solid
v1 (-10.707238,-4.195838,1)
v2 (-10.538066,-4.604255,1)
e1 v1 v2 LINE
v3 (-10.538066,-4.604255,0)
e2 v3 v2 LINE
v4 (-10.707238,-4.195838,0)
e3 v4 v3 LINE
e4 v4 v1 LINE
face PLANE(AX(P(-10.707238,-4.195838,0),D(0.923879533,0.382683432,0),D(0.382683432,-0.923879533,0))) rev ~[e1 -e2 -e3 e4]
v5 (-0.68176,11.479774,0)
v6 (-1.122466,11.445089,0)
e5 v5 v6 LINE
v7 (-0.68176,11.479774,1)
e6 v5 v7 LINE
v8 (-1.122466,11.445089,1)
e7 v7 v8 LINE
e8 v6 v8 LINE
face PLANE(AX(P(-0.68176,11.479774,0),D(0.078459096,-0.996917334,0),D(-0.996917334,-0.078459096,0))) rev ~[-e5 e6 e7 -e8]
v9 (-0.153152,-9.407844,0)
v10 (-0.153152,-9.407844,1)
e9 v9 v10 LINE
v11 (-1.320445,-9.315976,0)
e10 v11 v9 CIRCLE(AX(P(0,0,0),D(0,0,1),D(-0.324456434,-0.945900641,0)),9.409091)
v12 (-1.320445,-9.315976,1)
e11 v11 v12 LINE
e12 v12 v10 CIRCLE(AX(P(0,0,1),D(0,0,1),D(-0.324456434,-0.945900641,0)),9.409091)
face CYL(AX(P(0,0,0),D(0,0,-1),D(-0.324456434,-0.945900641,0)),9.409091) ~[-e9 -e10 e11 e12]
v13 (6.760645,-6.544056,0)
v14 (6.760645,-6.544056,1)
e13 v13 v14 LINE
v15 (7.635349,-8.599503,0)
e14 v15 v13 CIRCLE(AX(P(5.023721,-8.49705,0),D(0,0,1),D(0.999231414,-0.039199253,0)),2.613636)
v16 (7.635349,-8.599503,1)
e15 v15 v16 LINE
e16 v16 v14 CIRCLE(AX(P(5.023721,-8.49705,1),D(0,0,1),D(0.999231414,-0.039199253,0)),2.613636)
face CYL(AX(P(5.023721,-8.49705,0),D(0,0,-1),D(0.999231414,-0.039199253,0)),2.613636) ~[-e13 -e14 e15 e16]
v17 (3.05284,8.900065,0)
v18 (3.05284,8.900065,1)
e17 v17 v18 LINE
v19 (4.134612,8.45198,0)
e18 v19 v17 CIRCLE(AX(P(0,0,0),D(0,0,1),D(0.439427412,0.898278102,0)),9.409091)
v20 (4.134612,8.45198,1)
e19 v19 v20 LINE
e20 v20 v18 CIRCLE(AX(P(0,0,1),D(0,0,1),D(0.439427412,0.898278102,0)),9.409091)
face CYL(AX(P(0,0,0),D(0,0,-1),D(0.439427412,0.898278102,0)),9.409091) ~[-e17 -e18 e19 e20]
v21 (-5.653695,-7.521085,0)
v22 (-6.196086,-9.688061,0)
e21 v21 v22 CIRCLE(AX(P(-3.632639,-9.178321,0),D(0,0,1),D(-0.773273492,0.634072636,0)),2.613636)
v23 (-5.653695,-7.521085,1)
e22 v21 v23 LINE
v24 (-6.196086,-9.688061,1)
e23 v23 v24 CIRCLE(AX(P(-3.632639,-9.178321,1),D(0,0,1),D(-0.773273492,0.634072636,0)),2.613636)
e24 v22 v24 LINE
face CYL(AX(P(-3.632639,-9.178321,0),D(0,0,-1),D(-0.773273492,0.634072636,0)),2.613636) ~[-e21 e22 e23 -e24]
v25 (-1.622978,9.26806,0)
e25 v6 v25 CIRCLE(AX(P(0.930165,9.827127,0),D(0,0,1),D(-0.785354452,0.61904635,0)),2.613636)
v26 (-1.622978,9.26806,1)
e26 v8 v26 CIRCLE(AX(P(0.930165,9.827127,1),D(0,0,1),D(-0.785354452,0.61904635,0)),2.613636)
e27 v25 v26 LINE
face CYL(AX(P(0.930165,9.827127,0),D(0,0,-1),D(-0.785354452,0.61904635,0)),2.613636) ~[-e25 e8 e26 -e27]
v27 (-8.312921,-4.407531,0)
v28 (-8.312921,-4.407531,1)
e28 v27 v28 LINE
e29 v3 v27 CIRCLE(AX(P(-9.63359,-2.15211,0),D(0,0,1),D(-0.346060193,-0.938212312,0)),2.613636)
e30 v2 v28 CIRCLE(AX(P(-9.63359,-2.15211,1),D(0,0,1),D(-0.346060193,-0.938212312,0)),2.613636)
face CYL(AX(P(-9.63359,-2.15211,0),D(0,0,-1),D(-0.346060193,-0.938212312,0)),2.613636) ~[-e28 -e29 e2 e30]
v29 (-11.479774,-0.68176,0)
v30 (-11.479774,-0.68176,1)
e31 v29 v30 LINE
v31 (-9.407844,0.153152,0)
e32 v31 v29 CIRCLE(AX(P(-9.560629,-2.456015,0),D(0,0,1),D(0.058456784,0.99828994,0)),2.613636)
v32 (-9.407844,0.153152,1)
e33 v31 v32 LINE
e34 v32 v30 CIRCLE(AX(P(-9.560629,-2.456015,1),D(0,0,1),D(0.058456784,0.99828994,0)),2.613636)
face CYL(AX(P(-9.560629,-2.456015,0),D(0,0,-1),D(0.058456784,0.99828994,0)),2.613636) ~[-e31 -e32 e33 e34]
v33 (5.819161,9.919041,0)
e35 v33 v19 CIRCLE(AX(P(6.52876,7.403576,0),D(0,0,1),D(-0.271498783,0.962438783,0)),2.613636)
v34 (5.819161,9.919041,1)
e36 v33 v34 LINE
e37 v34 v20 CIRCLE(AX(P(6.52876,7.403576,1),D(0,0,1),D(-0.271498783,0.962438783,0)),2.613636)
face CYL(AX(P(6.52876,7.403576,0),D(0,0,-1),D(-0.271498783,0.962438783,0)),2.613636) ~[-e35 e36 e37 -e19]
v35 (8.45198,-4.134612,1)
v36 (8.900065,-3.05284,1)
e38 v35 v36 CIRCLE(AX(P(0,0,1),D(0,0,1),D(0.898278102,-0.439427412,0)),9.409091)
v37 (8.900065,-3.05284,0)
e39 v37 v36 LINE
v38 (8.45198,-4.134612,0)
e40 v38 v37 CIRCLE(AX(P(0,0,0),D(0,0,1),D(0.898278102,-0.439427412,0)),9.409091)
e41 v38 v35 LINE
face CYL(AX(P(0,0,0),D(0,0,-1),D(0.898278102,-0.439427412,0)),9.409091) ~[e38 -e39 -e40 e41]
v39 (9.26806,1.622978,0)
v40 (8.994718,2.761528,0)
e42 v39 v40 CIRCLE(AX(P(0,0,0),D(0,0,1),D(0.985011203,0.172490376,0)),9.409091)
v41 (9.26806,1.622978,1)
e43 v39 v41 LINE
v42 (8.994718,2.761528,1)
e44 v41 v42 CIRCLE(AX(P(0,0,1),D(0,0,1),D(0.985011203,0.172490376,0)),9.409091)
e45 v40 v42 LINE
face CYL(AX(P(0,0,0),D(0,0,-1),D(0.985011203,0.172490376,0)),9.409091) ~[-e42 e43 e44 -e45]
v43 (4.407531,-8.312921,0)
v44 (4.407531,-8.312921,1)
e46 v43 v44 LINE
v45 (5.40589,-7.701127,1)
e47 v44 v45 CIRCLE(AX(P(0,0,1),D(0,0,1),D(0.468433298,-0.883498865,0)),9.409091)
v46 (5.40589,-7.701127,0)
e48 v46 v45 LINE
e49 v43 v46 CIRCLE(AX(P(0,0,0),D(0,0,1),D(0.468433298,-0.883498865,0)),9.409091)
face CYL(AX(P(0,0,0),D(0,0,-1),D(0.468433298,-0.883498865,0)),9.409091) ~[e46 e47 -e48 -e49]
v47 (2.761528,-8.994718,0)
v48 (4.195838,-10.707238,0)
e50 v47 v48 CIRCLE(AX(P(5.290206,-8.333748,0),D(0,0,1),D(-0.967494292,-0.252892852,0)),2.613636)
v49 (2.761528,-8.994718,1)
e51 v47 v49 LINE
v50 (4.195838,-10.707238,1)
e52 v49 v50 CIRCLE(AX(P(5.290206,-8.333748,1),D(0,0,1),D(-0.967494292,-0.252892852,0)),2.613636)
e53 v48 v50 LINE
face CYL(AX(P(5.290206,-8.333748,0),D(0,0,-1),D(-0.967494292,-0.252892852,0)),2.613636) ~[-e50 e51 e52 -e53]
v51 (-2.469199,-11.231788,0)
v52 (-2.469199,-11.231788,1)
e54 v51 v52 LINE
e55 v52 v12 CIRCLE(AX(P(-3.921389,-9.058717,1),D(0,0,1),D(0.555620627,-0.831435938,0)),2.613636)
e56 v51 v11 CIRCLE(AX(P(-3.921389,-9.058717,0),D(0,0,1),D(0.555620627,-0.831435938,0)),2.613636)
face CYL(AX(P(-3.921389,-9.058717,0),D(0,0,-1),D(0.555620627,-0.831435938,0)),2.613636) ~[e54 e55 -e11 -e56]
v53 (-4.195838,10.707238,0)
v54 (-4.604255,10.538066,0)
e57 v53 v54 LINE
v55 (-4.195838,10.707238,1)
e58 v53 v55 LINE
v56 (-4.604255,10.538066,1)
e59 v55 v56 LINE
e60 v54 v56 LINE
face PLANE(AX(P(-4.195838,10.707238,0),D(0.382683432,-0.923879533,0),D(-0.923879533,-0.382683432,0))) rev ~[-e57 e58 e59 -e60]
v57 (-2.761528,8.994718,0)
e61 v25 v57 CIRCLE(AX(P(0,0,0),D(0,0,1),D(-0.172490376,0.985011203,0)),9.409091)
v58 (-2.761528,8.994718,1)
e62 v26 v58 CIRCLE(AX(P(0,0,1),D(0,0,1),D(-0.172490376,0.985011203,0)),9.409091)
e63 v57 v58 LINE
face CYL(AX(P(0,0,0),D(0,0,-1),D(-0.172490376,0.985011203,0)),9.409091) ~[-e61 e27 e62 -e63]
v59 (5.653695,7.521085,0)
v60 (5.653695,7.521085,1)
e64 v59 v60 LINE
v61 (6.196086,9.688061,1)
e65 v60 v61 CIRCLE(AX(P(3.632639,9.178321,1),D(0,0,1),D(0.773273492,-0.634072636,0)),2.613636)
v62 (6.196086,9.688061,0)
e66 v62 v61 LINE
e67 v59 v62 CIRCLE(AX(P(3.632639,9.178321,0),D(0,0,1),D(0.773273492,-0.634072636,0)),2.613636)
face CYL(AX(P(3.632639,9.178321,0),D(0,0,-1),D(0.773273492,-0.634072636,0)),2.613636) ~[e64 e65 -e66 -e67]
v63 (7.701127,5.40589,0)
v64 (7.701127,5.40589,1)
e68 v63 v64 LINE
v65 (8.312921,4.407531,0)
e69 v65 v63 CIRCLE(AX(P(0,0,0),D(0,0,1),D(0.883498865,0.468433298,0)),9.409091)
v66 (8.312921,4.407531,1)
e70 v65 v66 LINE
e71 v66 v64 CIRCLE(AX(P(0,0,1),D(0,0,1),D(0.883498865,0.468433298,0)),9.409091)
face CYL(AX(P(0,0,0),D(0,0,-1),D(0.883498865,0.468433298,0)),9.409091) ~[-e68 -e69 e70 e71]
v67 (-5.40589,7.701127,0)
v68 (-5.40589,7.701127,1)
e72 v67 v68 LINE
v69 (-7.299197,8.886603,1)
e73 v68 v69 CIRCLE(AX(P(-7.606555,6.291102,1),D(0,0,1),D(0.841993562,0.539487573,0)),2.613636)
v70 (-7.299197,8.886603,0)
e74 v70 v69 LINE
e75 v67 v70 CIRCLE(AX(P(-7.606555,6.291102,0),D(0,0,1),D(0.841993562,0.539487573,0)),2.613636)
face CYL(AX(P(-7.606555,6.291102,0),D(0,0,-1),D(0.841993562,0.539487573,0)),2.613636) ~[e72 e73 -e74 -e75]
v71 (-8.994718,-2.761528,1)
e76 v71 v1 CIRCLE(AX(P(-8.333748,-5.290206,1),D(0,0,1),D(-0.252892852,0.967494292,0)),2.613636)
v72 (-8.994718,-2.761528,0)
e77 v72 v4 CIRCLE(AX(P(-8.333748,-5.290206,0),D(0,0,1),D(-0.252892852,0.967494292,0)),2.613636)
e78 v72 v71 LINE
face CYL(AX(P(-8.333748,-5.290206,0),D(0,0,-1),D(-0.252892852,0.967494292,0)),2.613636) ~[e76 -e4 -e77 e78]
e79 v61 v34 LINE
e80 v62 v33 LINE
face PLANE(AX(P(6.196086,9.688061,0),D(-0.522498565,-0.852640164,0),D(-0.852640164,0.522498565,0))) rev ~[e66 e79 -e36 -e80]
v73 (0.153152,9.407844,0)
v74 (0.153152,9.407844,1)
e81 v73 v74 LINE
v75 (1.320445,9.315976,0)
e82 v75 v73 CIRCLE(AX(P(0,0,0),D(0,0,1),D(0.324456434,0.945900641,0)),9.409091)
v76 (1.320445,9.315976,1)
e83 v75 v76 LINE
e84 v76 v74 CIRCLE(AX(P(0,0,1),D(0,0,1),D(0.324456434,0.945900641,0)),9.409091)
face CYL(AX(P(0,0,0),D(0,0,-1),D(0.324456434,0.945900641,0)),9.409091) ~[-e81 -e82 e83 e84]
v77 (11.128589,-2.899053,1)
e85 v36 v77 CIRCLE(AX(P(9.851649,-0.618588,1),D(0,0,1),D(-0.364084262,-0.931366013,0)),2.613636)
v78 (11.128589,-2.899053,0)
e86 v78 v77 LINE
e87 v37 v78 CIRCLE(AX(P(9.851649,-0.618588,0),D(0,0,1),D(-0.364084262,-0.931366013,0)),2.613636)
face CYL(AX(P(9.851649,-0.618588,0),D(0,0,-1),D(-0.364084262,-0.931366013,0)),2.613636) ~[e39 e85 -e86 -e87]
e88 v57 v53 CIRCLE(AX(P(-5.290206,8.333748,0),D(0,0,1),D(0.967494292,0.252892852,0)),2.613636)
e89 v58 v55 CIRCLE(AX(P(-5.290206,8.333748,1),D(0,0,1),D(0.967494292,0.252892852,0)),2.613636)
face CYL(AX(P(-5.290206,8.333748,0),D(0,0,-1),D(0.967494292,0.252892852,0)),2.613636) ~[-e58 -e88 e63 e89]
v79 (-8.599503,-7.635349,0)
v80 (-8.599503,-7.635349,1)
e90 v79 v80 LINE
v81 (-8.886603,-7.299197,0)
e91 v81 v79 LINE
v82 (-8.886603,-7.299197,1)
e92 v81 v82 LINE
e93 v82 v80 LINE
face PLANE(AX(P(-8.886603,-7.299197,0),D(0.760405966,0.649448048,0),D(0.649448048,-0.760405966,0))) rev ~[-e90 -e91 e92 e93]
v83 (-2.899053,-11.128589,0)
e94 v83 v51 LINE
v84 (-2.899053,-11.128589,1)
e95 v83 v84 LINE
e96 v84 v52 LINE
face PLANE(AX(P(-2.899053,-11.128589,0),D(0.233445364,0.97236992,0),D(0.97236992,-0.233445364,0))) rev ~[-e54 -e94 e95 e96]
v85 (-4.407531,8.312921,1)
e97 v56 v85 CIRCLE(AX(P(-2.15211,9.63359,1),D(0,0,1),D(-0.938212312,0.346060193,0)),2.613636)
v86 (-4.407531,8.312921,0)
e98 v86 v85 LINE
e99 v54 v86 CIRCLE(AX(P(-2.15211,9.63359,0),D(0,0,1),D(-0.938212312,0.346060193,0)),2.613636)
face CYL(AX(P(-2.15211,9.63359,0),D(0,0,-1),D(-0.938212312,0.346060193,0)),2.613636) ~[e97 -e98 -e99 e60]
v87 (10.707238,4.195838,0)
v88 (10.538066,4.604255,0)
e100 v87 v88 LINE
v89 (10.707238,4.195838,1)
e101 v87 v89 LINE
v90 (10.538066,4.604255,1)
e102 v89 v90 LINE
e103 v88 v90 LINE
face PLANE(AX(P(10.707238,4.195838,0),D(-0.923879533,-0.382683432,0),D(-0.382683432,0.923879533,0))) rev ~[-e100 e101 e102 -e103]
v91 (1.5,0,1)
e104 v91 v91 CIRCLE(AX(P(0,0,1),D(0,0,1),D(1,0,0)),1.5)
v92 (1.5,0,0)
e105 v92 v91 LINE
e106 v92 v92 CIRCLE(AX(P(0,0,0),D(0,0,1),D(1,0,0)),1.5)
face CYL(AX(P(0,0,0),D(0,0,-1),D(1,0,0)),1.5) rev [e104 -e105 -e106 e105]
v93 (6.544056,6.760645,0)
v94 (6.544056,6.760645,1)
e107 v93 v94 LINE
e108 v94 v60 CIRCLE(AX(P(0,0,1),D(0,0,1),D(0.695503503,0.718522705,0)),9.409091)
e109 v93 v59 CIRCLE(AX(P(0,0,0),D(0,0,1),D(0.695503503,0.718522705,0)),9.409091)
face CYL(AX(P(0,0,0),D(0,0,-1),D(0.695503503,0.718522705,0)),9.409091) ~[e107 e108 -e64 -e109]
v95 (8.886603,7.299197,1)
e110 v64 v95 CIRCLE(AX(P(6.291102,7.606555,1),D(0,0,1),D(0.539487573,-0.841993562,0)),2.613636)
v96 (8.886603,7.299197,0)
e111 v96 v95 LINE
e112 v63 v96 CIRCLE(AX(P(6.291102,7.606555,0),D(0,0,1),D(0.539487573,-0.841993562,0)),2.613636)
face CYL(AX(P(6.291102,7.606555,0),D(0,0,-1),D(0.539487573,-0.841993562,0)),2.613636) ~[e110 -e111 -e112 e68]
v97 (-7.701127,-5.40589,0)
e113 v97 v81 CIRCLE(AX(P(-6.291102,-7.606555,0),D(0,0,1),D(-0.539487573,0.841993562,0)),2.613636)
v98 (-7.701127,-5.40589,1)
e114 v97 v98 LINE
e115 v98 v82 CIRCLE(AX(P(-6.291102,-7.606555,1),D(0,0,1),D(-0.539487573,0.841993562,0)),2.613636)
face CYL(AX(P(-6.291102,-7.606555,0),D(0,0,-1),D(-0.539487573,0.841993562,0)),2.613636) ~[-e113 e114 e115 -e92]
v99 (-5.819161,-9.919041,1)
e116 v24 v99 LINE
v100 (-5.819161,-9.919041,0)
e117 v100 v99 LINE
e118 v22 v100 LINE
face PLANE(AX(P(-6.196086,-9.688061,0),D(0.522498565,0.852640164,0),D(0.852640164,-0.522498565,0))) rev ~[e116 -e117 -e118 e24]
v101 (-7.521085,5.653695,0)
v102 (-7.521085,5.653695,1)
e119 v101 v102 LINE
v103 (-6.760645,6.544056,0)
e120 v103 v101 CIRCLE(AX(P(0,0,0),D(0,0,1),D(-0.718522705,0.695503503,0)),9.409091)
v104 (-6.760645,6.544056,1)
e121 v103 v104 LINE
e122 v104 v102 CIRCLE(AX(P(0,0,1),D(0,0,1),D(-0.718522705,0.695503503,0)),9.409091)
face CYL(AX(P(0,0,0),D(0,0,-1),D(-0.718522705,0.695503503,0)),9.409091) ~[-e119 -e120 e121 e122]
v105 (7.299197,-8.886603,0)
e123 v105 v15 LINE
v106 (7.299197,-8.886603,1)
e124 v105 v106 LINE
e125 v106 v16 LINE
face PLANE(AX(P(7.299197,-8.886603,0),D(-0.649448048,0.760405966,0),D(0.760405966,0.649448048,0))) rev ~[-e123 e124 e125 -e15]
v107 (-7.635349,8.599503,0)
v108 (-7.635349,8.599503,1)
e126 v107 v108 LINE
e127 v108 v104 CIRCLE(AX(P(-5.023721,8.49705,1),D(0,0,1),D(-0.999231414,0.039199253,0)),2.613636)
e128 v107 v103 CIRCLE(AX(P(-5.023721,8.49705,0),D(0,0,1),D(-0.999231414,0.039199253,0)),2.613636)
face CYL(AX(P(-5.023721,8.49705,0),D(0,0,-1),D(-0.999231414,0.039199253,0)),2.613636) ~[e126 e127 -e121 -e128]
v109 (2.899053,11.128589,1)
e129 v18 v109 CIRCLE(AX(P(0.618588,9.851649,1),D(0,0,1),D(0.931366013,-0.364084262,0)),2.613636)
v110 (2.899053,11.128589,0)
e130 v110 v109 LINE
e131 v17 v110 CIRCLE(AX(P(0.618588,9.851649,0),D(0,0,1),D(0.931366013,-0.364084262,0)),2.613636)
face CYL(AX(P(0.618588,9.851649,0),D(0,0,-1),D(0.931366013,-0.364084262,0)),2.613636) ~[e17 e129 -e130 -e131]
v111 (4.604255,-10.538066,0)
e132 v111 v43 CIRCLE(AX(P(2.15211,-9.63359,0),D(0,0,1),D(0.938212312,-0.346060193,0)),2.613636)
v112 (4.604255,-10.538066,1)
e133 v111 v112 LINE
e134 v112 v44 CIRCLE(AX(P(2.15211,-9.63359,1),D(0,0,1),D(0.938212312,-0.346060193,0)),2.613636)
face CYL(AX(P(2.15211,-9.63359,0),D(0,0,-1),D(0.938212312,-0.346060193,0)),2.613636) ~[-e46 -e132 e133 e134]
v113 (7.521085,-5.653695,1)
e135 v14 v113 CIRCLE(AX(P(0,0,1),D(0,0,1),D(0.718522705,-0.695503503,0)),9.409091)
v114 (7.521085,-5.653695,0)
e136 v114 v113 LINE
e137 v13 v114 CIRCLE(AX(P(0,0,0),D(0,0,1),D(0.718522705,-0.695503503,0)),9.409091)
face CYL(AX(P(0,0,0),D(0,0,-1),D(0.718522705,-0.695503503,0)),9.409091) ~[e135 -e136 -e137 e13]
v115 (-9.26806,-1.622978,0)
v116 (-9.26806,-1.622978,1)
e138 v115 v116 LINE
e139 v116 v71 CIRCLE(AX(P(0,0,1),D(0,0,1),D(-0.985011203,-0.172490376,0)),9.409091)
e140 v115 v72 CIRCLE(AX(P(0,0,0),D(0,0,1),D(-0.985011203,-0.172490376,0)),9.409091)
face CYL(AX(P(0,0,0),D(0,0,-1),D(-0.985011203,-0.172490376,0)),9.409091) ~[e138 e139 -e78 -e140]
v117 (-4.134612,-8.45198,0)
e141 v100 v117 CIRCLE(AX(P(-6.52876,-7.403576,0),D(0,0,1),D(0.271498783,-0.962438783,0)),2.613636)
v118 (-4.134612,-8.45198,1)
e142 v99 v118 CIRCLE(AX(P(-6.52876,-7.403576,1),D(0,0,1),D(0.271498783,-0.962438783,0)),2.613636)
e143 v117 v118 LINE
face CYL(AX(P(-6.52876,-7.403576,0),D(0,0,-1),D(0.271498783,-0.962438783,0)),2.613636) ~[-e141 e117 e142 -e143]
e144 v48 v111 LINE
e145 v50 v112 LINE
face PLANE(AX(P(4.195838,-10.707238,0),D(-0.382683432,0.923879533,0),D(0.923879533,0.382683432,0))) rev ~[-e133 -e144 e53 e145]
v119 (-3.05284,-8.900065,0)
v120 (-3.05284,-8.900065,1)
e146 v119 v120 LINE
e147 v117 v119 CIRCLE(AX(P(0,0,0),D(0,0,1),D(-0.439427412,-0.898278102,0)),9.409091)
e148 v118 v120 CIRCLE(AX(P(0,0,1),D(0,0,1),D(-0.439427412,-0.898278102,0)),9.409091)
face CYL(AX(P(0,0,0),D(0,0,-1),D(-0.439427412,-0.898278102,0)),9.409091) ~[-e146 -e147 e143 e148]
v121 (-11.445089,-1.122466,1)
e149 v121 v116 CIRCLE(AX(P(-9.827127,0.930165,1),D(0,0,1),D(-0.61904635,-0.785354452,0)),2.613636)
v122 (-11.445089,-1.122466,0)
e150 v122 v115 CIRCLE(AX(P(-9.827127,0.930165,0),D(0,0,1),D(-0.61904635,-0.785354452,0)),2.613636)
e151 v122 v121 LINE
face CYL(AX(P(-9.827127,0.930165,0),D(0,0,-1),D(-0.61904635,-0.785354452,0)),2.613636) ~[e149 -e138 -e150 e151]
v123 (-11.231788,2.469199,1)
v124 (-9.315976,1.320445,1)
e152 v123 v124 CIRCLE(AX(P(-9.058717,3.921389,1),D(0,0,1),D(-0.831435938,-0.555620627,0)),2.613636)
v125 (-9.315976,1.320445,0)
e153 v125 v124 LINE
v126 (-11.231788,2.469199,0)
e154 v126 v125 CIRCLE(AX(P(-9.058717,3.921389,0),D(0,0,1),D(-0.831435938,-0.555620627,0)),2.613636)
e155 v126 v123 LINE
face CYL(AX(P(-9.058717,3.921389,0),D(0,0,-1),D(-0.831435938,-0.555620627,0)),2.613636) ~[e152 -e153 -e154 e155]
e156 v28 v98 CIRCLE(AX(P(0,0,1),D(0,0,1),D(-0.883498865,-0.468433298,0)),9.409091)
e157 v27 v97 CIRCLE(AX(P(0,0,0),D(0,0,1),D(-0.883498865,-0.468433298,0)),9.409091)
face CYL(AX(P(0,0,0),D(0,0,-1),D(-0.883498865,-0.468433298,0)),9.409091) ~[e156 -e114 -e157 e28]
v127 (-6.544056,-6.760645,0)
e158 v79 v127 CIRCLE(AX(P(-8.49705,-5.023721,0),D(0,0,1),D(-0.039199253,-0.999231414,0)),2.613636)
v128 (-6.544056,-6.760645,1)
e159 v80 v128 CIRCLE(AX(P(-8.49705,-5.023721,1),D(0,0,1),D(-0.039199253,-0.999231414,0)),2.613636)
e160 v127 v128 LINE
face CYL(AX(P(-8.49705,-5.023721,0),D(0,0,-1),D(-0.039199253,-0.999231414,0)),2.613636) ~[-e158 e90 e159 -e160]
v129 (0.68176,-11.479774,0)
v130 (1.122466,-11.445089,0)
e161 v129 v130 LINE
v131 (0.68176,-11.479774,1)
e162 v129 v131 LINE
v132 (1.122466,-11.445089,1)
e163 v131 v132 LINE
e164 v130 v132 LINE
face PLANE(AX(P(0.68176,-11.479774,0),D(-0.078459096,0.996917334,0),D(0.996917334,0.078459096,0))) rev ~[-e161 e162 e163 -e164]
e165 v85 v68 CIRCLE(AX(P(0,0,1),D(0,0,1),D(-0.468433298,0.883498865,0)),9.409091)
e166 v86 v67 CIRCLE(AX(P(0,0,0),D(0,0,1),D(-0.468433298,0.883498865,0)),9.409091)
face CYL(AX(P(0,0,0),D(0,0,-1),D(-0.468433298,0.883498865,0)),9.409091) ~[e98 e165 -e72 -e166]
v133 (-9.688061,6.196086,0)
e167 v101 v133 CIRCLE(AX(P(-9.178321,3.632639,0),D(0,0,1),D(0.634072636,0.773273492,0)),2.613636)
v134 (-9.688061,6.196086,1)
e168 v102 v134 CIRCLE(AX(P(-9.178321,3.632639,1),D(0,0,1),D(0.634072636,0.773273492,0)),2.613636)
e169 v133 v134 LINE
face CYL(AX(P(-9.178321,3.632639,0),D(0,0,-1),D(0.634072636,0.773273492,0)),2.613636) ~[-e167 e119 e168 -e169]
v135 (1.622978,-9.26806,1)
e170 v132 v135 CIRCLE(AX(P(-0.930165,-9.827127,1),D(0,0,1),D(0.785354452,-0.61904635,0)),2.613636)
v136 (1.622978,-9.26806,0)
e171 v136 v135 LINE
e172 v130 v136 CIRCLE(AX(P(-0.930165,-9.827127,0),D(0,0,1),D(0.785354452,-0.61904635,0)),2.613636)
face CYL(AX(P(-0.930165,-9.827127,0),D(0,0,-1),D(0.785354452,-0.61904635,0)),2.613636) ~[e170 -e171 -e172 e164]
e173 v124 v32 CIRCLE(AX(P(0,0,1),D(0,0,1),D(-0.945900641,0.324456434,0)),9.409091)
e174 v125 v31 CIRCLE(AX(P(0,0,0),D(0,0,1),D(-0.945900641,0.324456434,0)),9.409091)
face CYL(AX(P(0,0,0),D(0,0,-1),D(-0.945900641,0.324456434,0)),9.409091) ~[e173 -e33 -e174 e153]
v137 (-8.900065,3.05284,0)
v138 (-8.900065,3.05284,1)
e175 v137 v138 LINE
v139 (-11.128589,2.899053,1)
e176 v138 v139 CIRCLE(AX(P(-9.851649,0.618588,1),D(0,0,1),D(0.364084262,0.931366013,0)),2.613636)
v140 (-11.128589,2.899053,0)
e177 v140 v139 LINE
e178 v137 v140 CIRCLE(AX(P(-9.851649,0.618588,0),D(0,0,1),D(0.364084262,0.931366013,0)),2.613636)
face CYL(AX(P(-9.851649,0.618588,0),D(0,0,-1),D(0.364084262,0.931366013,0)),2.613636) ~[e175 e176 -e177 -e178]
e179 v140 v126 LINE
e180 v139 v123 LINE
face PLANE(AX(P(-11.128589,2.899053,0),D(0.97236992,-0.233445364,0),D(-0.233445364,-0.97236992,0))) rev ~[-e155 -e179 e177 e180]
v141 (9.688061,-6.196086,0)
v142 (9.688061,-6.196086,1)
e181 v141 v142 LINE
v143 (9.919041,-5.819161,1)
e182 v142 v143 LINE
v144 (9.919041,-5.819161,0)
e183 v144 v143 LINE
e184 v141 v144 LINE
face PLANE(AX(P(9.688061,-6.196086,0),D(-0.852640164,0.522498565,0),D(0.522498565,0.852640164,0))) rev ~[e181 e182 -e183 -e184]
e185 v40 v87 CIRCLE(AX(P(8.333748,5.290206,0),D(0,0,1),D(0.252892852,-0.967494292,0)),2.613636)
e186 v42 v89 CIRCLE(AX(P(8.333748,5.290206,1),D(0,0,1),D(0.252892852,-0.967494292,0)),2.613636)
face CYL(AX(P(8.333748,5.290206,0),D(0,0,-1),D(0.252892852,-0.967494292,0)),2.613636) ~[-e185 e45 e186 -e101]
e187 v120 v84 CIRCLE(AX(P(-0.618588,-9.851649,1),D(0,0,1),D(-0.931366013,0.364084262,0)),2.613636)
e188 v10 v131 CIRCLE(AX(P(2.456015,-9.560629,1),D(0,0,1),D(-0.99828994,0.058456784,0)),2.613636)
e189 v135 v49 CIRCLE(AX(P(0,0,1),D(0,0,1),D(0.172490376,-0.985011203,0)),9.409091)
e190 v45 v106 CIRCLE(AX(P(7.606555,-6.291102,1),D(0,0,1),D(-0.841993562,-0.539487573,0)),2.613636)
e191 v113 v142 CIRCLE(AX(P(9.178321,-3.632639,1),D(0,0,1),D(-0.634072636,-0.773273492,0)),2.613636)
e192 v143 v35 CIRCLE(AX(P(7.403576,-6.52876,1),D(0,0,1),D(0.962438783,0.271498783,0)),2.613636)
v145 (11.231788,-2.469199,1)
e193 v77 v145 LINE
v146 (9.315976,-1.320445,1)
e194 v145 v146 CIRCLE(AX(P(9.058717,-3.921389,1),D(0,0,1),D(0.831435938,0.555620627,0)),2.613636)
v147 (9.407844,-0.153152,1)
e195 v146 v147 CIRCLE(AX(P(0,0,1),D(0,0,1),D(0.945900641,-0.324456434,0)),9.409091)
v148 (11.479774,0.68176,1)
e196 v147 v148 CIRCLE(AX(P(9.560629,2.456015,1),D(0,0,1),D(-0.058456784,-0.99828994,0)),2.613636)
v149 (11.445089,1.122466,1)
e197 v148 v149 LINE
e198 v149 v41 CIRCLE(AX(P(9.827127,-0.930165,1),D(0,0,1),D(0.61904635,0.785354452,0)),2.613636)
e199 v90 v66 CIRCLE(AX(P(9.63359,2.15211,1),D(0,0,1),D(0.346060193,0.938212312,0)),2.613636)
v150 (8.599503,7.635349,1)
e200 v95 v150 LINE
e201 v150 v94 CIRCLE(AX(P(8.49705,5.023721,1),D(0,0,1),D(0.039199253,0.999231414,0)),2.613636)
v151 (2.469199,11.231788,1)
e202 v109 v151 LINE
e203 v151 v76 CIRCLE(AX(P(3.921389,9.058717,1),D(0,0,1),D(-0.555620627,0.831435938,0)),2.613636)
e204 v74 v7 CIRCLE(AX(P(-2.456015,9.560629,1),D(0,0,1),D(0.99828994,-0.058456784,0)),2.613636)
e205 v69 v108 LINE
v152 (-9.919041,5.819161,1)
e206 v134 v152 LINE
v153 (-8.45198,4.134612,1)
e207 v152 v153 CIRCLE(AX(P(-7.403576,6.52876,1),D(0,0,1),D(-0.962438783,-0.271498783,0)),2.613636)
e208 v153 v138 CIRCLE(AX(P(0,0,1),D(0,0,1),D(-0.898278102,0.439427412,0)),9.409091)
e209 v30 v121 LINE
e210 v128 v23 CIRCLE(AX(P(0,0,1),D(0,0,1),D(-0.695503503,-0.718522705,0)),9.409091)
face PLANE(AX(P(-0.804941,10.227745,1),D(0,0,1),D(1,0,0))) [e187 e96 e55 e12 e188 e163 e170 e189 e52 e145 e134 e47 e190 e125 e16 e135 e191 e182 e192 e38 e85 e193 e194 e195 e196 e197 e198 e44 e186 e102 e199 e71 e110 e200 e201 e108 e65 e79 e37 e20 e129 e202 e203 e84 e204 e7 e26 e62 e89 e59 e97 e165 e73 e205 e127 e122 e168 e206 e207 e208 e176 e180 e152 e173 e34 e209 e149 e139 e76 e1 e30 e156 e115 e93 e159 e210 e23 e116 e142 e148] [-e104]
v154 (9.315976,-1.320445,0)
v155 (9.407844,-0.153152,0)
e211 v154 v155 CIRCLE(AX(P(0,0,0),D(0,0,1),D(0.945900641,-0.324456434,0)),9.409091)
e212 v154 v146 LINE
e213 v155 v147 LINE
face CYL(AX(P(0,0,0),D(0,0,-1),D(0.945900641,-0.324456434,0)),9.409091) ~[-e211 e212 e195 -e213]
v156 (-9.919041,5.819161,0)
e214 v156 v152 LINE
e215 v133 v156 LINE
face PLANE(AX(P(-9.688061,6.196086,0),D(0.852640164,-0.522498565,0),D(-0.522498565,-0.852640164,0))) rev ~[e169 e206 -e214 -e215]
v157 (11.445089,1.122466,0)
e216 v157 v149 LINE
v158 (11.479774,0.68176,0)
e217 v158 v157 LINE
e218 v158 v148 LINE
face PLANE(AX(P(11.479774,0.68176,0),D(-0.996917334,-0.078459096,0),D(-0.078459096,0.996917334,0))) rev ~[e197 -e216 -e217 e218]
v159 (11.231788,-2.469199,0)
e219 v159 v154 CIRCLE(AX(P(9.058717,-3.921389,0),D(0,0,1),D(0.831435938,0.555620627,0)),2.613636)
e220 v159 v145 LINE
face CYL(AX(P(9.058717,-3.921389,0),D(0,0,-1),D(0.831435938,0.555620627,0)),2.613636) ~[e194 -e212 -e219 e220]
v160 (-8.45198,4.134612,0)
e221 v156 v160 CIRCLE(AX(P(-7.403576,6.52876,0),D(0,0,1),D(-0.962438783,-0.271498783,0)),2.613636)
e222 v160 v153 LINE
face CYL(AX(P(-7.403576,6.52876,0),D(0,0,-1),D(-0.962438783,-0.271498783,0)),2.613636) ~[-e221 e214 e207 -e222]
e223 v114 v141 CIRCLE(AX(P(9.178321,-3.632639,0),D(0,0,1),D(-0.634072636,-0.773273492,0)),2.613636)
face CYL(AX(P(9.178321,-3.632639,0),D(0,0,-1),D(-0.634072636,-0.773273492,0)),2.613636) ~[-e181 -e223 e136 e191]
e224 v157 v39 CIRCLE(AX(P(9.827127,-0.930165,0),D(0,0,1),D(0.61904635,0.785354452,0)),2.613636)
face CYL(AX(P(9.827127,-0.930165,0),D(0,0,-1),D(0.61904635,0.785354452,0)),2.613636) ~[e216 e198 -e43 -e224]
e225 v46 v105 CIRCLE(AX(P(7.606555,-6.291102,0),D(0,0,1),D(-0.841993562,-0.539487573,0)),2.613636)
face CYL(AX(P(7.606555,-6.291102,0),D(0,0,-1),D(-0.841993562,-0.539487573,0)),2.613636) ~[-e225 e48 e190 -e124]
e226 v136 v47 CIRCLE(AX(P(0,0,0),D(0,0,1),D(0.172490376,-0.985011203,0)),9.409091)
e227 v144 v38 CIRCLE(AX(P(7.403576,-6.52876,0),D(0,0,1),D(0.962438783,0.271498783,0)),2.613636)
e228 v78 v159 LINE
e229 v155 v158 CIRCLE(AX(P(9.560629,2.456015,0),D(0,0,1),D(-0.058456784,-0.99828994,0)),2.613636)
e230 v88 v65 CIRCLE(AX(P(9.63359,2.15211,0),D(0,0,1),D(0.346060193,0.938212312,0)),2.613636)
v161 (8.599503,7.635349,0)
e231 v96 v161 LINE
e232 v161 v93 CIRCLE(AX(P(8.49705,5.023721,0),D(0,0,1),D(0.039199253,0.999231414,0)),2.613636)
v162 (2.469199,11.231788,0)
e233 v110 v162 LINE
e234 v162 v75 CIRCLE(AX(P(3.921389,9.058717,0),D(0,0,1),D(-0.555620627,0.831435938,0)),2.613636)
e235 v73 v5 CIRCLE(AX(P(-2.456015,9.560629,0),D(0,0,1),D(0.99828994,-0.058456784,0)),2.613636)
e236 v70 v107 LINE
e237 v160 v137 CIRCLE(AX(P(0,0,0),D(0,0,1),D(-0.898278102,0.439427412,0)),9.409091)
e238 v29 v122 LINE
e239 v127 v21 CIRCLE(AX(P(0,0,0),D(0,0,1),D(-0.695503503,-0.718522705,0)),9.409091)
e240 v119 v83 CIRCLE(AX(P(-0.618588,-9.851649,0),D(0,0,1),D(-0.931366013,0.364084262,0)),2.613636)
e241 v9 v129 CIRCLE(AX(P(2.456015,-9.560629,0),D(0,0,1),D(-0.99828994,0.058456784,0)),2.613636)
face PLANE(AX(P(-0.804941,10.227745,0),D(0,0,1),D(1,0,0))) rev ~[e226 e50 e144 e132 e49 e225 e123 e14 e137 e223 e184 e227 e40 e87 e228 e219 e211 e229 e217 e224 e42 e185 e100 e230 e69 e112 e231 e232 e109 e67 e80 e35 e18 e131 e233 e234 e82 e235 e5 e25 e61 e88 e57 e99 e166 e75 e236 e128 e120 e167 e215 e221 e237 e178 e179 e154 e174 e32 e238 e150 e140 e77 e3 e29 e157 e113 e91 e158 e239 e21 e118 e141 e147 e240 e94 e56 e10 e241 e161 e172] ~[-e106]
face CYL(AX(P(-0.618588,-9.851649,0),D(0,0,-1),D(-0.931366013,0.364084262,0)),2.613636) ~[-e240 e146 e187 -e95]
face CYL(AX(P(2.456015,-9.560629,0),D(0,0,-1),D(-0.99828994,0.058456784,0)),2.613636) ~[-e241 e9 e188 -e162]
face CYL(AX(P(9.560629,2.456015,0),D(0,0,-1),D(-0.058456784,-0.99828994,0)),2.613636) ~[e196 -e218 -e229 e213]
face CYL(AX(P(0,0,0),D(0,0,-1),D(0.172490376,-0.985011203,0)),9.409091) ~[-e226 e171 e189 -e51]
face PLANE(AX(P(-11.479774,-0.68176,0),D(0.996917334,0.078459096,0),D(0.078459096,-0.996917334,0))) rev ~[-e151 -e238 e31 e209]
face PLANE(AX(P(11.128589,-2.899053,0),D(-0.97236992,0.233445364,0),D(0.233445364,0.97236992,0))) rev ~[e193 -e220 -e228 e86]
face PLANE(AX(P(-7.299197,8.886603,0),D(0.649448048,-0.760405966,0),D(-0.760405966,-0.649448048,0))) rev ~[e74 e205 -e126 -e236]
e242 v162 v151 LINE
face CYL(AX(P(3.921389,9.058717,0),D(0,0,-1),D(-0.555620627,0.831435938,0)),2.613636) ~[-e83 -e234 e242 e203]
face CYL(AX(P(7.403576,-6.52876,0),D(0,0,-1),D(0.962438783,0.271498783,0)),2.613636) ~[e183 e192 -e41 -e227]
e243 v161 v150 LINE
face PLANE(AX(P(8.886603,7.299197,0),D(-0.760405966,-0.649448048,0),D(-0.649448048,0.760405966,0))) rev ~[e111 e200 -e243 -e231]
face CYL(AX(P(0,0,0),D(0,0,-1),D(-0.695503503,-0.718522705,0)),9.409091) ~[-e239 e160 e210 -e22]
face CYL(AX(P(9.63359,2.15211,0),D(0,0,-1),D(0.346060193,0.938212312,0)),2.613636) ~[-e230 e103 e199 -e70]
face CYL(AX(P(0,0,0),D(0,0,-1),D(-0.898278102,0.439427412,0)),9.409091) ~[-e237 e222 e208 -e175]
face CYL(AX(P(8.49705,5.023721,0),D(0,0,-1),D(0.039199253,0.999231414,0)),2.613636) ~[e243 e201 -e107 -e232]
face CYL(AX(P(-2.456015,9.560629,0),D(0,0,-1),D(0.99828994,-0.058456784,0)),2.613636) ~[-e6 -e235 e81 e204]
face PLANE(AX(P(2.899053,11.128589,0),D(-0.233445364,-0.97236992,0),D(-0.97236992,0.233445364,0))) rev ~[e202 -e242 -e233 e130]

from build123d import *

# Parameters (mm, degrees)
F1_R     = 1.5
F2_DEPTH = 1


with BuildPart() as f2:
    # F1 (on Top) → F2 (new body)
    with BuildSketch(Plane.XY):
        with BuildLine():
            ThreePointArc((-1.6229776334, 9.2680599554), (-0.7382287643, 9.3800858219), (0.1531520845, 9.4078443957))
            ThreePointArc((0.1531520845, 9.4078443957), (-0.0317997207, 10.5374998224), (-0.6817601701, 11.4797736507))
            Line((-0.6817601701, 11.4797736507), (-1.1224656787, 11.4450893749))
            ThreePointArc((-1.1224656787, 11.4450893749), (-1.6170199342, 10.4127402859), (-1.6229776334, 9.2680599554))
        make_face()
        with BuildLine():
            ThreePointArc((9.4078443957, -0.1531520845), (9.4087792756, -0.0765785786), (9.4090909091, 0))
            ThreePointArc((9.4090909091, 0), (9.3737668631, 0.8145468262), (9.2680599554, 1.6229776334))
            ThreePointArc((9.2680599554, 1.6229776334), (9.1491169783, 2.1965086508), (8.9947183137, 2.7615275108))
            ThreePointArc((8.9947183137, 2.7615275108), (8.6928665104, 3.6007032045), (8.3129211438, 4.4075314852))
            ThreePointArc((8.3129211438, 4.4075314852), (8.0225688191, 4.9162364953), (7.7011265332, 5.4058895526))
            ThreePointArc((7.7011265332, 5.4058895526), (7.1547288581, 6.1107157275), (6.5440556911, 6.7606454461))
            ThreePointArc((6.5440556911, 6.7606454461), (6.1107157275, 7.1547288581), (5.6536948308, 7.52108546))
            ThreePointArc((5.6536948308, 7.52108546), (4.9162364953, 8.0225688191), (4.1346124722, 8.4519803265))
            ThreePointArc((4.1346124722, 8.4519803265), (3.6007032045, 8.6928665104), (3.0528400867, 8.90006512))
            ThreePointArc((3.0528400867, 8.90006512), (2.1965086508, 9.1491169783), (1.320444577, 9.3159764842))
            ThreePointArc((1.320444577, 9.3159764842), (0.7382287643, 9.3800858219), (0.1531520845, 9.4078443957))
            ThreePointArc((0.1531520845, 9.4078443957), (-0.7382287643, 9.3800858219), (-1.6229776334, 9.2680599554))
            ThreePointArc((-1.6229776334, 9.2680599554), (-2.1965086508, 9.1491169783), (-2.7615275108, 8.9947183137))
            ThreePointArc((-2.7615275108, 8.9947183137), (-3.6007032045, 8.6928665104), (-4.4075314852, 8.3129211438))
            ThreePointArc((-4.4075314852, 8.3129211438), (-4.9162364953, 8.0225688191), (-5.4058895526, 7.7011265332))
            ThreePointArc((-5.4058895526, 7.7011265332), (-6.1107157275, 7.1547288581), (-6.7606454461, 6.5440556911))
            ThreePointArc((-6.7606454461, 6.5440556911), (-7.1547288581, 6.1107157275), (-7.52108546, 5.6536948308))
            ThreePointArc((-7.52108546, 5.6536948308), (-8.0225688191, 4.9162364953), (-8.4519803265, 4.1346124722))
            ThreePointArc((-8.4519803265, 4.1346124722), (-8.6928665104, 3.6007032045), (-8.90006512, 3.0528400867))
            ThreePointArc((-8.90006512, 3.0528400867), (-9.1491169783, 2.1965086508), (-9.3159764842, 1.320444577))
            ThreePointArc((-9.3159764842, 1.320444577), (-9.3800858219, 0.7382287643), (-9.4078443957, 0.1531520845))
            ThreePointArc((-9.4078443957, 0.1531520845), (-9.3800858219, -0.7382287643), (-9.2680599554, -1.6229776334))
            ThreePointArc((-9.2680599554, -1.6229776334), (-9.1491169783, -2.1965086508), (-8.9947183137, -2.7615275108))
            ThreePointArc((-8.9947183137, -2.7615275108), (-8.6928665104, -3.6007032045), (-8.3129211438, -4.4075314852))
            ThreePointArc((-8.3129211438, -4.4075314852), (-8.0225688191, -4.9162364953), (-7.7011265332, -5.4058895526))
            ThreePointArc((-7.7011265332, -5.4058895526), (-7.1547288581, -6.1107157275), (-6.5440556911, -6.7606454461))
            ThreePointArc((-6.5440556911, -6.7606454461), (-6.1107157275, -7.1547288581), (-5.6536948308, -7.52108546))
            ThreePointArc((-5.6536948308, -7.52108546), (-4.9162364953, -8.0225688191), (-4.1346124722, -8.4519803265))
            ThreePointArc((-4.1346124722, -8.4519803265), (-3.6007032045, -8.6928665104), (-3.0528400867, -8.90006512))
            ThreePointArc((-3.0528400867, -8.90006512), (-2.1965086508, -9.1491169783), (-1.320444577, -9.3159764842))
            ThreePointArc((-1.320444577, -9.3159764842), (-0.7382287643, -9.3800858219), (-0.1531520845, -9.4078443957))
            ThreePointArc((-0.1531520845, -9.4078443957), (0.7382287643, -9.3800858219), (1.6229776334, -9.2680599554))
            ThreePointArc((1.6229776334, -9.2680599554), (2.1965086508, -9.1491169783), (2.7615275108, -8.9947183137))
            ThreePointArc((2.7615275108, -8.9947183137), (3.6007032045, -8.6928665104), (4.4075314852, -8.3129211438))
            ThreePointArc((4.4075314852, -8.3129211438), (4.9162364953, -8.0225688191), (5.4058895526, -7.7011265332))
            ThreePointArc((5.4058895526, -7.7011265332), (6.1107157275, -7.1547288581), (6.7606454461, -6.5440556911))
            ThreePointArc((6.7606454461, -6.5440556911), (7.1547288581, -6.1107157275), (7.52108546, -5.6536948308))
            ThreePointArc((7.52108546, -5.6536948308), (8.0225688191, -4.9162364953), (8.4519803265, -4.1346124722))
            ThreePointArc((8.4519803265, -4.1346124722), (8.6928665104, -3.6007032045), (8.90006512, -3.0528400867))
            ThreePointArc((8.90006512, -3.0528400867), (9.1491169783, -2.1965086508), (9.3159764842, -1.320444577))
            ThreePointArc((9.3159764842, -1.320444577), (9.3800858219, -0.7382287643), (9.4078443957, -0.1531520845))
        make_face()
        Circle(F1_R, mode=Mode.SUBTRACT)
        with BuildLine():
            ThreePointArc((-4.4075314852, 8.3129211438), (-3.6007032045, 8.6928665104), (-2.7615275108, 8.9947183137))
            ThreePointArc((-2.7615275108, 8.9947183137), (-3.286509855, 10.0119312174), (-4.195837602, 10.7072380574))
            Line((-4.195837602, 10.7072380574), (-4.604255417, 10.5380658593))
            ThreePointArc((-4.604255417, 10.5380658593), (-4.7555910517, 9.4034178615), (-4.4075314852, 8.3129211438))
        make_face()
        with BuildLine():
            ThreePointArc((-6.7606454461, 6.5440556911), (-6.1107157275, 7.1547288581), (-5.4058895526, 7.7011265332))
            ThreePointArc((-5.4058895526, 7.7011265332), (-6.2195135061, 8.5063250277), (-7.2991972152, 8.8866034014))
            Line((-7.2991972152, 8.8866034014), (-7.6353485554, 8.5995030343))
            ThreePointArc((-7.6353485554, 8.5995030343), (-7.428651783, 7.4736233793), (-6.7606454461, 6.5440556911))
        make_face()
        with BuildLine():
            ThreePointArc((-8.4519803265, 4.1346124722), (-8.0225688191, 4.9162364953), (-7.52108546, 5.6536948308))
            ThreePointArc((-7.52108546, 5.6536948308), (-8.5437078414, 6.1680604771), (-9.6880605486, 6.1960860878))
            Line((-9.6880605486, 6.1960860878), (-9.9190405786, 5.8191609361))
            ThreePointArc((-9.9190405786, 5.8191609361), (-9.3745443193, 4.812258569), (-8.4519803265, 4.1346124722))
        make_face()
        with BuildLine():
            ThreePointArc((-9.3159764842, 1.320444577), (-9.1491169783, 2.1965086508), (-8.90006512, 3.0528400867))
            ThreePointArc((-8.90006512, 3.0528400867), (-10.0315845257, 3.2260231917), (-11.1285890147, 2.8990526973))
            Line((-11.1285890147, 2.8990526973), (-11.2317877999, 2.469198821))
            ThreePointArc((-11.2317877999, 2.469198821), (-10.4027911413, 1.679836361), (-9.3159764842, 1.320444577))
        make_face()
        with BuildLine():
            ThreePointArc((-9.2680599554, -1.6229776334), (-9.3800858219, -0.7382287643), (-9.4078443957, 0.1531520845))
            ThreePointArc((-9.4078443957, 0.1531520845), (-10.5374998224, -0.0317997207), (-11.4797736507, -0.6817601701))
            Line((-11.4797736507, -0.6817601701), (-11.4450893749, -1.1224656787))
            ThreePointArc((-11.4450893749, -1.1224656787), (-10.4127402859, -1.6170199342), (-9.2680599554, -1.6229776334))
        make_face()
        with BuildLine():
            ThreePointArc((-10.5380658593, -4.604255417), (-9.4034178615, -4.7555910517), (-8.3129211438, -4.4075314852))
            ThreePointArc((-8.3129211438, -4.4075314852), (-8.6928665104, -3.6007032045), (-8.9947183137, -2.7615275108))
            ThreePointArc((-8.9947183137, -2.7615275108), (-10.0119312174, -3.286509855), (-10.7072380574, -4.195837602))
            Line((-10.7072380574, -4.195837602), (-10.5380658593, -4.604255417))
        make_face()
        with BuildLine():
            ThreePointArc((-8.5995030343, -7.6353485554), (-7.4736233793, -7.428651783), (-6.5440556911, -6.7606454461))
            ThreePointArc((-6.5440556911, -6.7606454461), (-7.1547288581, -6.1107157275), (-7.7011265332, -5.4058895526))
            ThreePointArc((-7.7011265332, -5.4058895526), (-8.5063250277, -6.2195135061), (-8.8866034014, -7.2991972152))
            Line((-8.8866034014, -7.2991972152), (-8.5995030343, -7.6353485554))
        make_face()
        with BuildLine():
            ThreePointArc((-5.8191609361, -9.9190405786), (-4.812258569, -9.3745443193), (-4.1346124722, -8.4519803265))
            ThreePointArc((-4.1346124722, -8.4519803265), (-4.9162364953, -8.0225688191), (-5.6536948308, -7.52108546))
            ThreePointArc((-5.6536948308, -7.52108546), (-6.1680604771, -8.5437078414), (-6.1960860878, -9.6880605486))
            Line((-6.1960860878, -9.6880605486), (-5.8191609361, -9.9190405786))
        make_face()
        with BuildLine():
            ThreePointArc((-2.469198821, -11.2317877999), (-1.679836361, -10.4027911413), (-1.320444577, -9.3159764842))
            ThreePointArc((-1.320444577, -9.3159764842), (-2.1965086508, -9.1491169783), (-3.0528400867, -8.90006512))
            ThreePointArc((-3.0528400867, -8.90006512), (-3.2260231917, -10.0315845257), (-2.8990526973, -11.1285890147))
            Line((-2.8990526973, -11.1285890147), (-2.469198821, -11.2317877999))
        make_face()
        with BuildLine():
            ThreePointArc((1.1224656787, -11.4450893749), (1.6170199342, -10.4127402859), (1.6229776334, -9.2680599554))
            ThreePointArc((1.6229776334, -9.2680599554), (0.7382287643, -9.3800858219), (-0.1531520845, -9.4078443957))
            ThreePointArc((-0.1531520845, -9.4078443957), (0.0317997207, -10.5374998224), (0.6817601701, -11.4797736507))
            Line((0.6817601701, -11.4797736507), (1.1224656787, -11.4450893749))
        make_face()
        with BuildLine():
            ThreePointArc((4.604255417, -10.5380658593), (4.7555910517, -9.4034178615), (4.4075314852, -8.3129211438))
            ThreePointArc((4.4075314852, -8.3129211438), (3.6007032045, -8.6928665104), (2.7615275108, -8.9947183137))
            ThreePointArc((2.7615275108, -8.9947183137), (3.286509855, -10.0119312174), (4.195837602, -10.7072380574))
            Line((4.195837602, -10.7072380574), (4.604255417, -10.5380658593))
        make_face()
        with BuildLine():
            ThreePointArc((7.6353485554, -8.5995030343), (7.428651783, -7.4736233793), (6.7606454461, -6.5440556911))
            ThreePointArc((6.7606454461, -6.5440556911), (6.1107157275, -7.1547288581), (5.4058895526, -7.7011265332))
            ThreePointArc((5.4058895526, -7.7011265332), (6.2195135061, -8.5063250277), (7.2991972152, -8.8866034014))
            Line((7.2991972152, -8.8866034014), (7.6353485554, -8.5995030343))
        make_face()
        with BuildLine():
            ThreePointArc((9.9190405786, -5.8191609361), (9.3745443193, -4.812258569), (8.4519803265, -4.1346124722))
            ThreePointArc((8.4519803265, -4.1346124722), (8.0225688191, -4.9162364953), (7.52108546, -5.6536948308))
            ThreePointArc((7.52108546, -5.6536948308), (8.5437078414, -6.1680604771), (9.6880605486, -6.1960860878))
            Line((9.6880605486, -6.1960860878), (9.9190405786, -5.8191609361))
        make_face()
        with BuildLine():
            ThreePointArc((11.2317877999, -2.469198821), (10.4027911413, -1.679836361), (9.3159764842, -1.320444577))
            ThreePointArc((9.3159764842, -1.320444577), (9.1491169783, -2.1965086508), (8.90006512, -3.0528400867))
            ThreePointArc((8.90006512, -3.0528400867), (10.0315845257, -3.2260231917), (11.1285890147, -2.8990526973))
            Line((11.1285890147, -2.8990526973), (11.2317877999, -2.469198821))
        make_face()
        with BuildLine():
            ThreePointArc((9.2680599554, 1.6229776334), (9.3737668631, 0.8145468262), (9.4090909091, 0))
            ThreePointArc((9.4090909091, 0), (9.4087792756, -0.0765785786), (9.4078443957, -0.1531520845))
            ThreePointArc((9.4078443957, -0.1531520845), (10.5374998224, 0.0317997207), (11.4797736507, 0.6817601701))
            Line((11.4797736507, 0.6817601701), (11.4450893749, 1.1224656787))
            ThreePointArc((11.4450893749, 1.1224656787), (10.4127402859, 1.6170199342), (9.2680599554, 1.6229776334))
        make_face()
        with BuildLine():
            ThreePointArc((8.3129211438, 4.4075314852), (8.6928665104, 3.6007032045), (8.9947183137, 2.7615275108))
            ThreePointArc((8.9947183137, 2.7615275108), (10.0119312174, 3.286509855), (10.7072380574, 4.195837602))
            Line((10.7072380574, 4.195837602), (10.5380658593, 4.604255417))
            ThreePointArc((10.5380658593, 4.604255417), (9.4034178615, 4.7555910517), (8.3129211438, 4.4075314852))
        make_face()
        with BuildLine():
            ThreePointArc((6.5440556911, 6.7606454461), (7.1547288581, 6.1107157275), (7.7011265332, 5.4058895526))
            ThreePointArc((7.7011265332, 5.4058895526), (8.5063250277, 6.2195135061), (8.8866034014, 7.2991972152))
            Line((8.8866034014, 7.2991972152), (8.5995030343, 7.6353485554))
            ThreePointArc((8.5995030343, 7.6353485554), (7.4736233793, 7.428651783), (6.5440556911, 6.7606454461))
        make_face()
        with BuildLine():
            ThreePointArc((4.1346124722, 8.4519803265), (4.9162364953, 8.0225688191), (5.6536948308, 7.52108546))
            ThreePointArc((5.6536948308, 7.52108546), (6.1680604771, 8.5437078414), (6.1960860878, 9.6880605486))
            Line((6.1960860878, 9.6880605486), (5.8191609361, 9.9190405786))
            ThreePointArc((5.8191609361, 9.9190405786), (4.812258569, 9.3745443193), (4.1346124722, 8.4519803265))
        make_face()
        with BuildLine():
            ThreePointArc((1.320444577, 9.3159764842), (2.1965086508, 9.1491169783), (3.0528400867, 8.90006512))
            ThreePointArc((3.0528400867, 8.90006512), (3.2260231917, 10.0315845257), (2.8990526973, 11.1285890147))
            Line((2.8990526973, 11.1285890147), (2.469198821, 11.2317877999))
            ThreePointArc((2.469198821, 11.2317877999), (1.679836361, 10.4027911413), (1.320444577, 9.3159764842))
        make_face()
    extrude(amount=F2_DEPTH)


solid = f2.part
